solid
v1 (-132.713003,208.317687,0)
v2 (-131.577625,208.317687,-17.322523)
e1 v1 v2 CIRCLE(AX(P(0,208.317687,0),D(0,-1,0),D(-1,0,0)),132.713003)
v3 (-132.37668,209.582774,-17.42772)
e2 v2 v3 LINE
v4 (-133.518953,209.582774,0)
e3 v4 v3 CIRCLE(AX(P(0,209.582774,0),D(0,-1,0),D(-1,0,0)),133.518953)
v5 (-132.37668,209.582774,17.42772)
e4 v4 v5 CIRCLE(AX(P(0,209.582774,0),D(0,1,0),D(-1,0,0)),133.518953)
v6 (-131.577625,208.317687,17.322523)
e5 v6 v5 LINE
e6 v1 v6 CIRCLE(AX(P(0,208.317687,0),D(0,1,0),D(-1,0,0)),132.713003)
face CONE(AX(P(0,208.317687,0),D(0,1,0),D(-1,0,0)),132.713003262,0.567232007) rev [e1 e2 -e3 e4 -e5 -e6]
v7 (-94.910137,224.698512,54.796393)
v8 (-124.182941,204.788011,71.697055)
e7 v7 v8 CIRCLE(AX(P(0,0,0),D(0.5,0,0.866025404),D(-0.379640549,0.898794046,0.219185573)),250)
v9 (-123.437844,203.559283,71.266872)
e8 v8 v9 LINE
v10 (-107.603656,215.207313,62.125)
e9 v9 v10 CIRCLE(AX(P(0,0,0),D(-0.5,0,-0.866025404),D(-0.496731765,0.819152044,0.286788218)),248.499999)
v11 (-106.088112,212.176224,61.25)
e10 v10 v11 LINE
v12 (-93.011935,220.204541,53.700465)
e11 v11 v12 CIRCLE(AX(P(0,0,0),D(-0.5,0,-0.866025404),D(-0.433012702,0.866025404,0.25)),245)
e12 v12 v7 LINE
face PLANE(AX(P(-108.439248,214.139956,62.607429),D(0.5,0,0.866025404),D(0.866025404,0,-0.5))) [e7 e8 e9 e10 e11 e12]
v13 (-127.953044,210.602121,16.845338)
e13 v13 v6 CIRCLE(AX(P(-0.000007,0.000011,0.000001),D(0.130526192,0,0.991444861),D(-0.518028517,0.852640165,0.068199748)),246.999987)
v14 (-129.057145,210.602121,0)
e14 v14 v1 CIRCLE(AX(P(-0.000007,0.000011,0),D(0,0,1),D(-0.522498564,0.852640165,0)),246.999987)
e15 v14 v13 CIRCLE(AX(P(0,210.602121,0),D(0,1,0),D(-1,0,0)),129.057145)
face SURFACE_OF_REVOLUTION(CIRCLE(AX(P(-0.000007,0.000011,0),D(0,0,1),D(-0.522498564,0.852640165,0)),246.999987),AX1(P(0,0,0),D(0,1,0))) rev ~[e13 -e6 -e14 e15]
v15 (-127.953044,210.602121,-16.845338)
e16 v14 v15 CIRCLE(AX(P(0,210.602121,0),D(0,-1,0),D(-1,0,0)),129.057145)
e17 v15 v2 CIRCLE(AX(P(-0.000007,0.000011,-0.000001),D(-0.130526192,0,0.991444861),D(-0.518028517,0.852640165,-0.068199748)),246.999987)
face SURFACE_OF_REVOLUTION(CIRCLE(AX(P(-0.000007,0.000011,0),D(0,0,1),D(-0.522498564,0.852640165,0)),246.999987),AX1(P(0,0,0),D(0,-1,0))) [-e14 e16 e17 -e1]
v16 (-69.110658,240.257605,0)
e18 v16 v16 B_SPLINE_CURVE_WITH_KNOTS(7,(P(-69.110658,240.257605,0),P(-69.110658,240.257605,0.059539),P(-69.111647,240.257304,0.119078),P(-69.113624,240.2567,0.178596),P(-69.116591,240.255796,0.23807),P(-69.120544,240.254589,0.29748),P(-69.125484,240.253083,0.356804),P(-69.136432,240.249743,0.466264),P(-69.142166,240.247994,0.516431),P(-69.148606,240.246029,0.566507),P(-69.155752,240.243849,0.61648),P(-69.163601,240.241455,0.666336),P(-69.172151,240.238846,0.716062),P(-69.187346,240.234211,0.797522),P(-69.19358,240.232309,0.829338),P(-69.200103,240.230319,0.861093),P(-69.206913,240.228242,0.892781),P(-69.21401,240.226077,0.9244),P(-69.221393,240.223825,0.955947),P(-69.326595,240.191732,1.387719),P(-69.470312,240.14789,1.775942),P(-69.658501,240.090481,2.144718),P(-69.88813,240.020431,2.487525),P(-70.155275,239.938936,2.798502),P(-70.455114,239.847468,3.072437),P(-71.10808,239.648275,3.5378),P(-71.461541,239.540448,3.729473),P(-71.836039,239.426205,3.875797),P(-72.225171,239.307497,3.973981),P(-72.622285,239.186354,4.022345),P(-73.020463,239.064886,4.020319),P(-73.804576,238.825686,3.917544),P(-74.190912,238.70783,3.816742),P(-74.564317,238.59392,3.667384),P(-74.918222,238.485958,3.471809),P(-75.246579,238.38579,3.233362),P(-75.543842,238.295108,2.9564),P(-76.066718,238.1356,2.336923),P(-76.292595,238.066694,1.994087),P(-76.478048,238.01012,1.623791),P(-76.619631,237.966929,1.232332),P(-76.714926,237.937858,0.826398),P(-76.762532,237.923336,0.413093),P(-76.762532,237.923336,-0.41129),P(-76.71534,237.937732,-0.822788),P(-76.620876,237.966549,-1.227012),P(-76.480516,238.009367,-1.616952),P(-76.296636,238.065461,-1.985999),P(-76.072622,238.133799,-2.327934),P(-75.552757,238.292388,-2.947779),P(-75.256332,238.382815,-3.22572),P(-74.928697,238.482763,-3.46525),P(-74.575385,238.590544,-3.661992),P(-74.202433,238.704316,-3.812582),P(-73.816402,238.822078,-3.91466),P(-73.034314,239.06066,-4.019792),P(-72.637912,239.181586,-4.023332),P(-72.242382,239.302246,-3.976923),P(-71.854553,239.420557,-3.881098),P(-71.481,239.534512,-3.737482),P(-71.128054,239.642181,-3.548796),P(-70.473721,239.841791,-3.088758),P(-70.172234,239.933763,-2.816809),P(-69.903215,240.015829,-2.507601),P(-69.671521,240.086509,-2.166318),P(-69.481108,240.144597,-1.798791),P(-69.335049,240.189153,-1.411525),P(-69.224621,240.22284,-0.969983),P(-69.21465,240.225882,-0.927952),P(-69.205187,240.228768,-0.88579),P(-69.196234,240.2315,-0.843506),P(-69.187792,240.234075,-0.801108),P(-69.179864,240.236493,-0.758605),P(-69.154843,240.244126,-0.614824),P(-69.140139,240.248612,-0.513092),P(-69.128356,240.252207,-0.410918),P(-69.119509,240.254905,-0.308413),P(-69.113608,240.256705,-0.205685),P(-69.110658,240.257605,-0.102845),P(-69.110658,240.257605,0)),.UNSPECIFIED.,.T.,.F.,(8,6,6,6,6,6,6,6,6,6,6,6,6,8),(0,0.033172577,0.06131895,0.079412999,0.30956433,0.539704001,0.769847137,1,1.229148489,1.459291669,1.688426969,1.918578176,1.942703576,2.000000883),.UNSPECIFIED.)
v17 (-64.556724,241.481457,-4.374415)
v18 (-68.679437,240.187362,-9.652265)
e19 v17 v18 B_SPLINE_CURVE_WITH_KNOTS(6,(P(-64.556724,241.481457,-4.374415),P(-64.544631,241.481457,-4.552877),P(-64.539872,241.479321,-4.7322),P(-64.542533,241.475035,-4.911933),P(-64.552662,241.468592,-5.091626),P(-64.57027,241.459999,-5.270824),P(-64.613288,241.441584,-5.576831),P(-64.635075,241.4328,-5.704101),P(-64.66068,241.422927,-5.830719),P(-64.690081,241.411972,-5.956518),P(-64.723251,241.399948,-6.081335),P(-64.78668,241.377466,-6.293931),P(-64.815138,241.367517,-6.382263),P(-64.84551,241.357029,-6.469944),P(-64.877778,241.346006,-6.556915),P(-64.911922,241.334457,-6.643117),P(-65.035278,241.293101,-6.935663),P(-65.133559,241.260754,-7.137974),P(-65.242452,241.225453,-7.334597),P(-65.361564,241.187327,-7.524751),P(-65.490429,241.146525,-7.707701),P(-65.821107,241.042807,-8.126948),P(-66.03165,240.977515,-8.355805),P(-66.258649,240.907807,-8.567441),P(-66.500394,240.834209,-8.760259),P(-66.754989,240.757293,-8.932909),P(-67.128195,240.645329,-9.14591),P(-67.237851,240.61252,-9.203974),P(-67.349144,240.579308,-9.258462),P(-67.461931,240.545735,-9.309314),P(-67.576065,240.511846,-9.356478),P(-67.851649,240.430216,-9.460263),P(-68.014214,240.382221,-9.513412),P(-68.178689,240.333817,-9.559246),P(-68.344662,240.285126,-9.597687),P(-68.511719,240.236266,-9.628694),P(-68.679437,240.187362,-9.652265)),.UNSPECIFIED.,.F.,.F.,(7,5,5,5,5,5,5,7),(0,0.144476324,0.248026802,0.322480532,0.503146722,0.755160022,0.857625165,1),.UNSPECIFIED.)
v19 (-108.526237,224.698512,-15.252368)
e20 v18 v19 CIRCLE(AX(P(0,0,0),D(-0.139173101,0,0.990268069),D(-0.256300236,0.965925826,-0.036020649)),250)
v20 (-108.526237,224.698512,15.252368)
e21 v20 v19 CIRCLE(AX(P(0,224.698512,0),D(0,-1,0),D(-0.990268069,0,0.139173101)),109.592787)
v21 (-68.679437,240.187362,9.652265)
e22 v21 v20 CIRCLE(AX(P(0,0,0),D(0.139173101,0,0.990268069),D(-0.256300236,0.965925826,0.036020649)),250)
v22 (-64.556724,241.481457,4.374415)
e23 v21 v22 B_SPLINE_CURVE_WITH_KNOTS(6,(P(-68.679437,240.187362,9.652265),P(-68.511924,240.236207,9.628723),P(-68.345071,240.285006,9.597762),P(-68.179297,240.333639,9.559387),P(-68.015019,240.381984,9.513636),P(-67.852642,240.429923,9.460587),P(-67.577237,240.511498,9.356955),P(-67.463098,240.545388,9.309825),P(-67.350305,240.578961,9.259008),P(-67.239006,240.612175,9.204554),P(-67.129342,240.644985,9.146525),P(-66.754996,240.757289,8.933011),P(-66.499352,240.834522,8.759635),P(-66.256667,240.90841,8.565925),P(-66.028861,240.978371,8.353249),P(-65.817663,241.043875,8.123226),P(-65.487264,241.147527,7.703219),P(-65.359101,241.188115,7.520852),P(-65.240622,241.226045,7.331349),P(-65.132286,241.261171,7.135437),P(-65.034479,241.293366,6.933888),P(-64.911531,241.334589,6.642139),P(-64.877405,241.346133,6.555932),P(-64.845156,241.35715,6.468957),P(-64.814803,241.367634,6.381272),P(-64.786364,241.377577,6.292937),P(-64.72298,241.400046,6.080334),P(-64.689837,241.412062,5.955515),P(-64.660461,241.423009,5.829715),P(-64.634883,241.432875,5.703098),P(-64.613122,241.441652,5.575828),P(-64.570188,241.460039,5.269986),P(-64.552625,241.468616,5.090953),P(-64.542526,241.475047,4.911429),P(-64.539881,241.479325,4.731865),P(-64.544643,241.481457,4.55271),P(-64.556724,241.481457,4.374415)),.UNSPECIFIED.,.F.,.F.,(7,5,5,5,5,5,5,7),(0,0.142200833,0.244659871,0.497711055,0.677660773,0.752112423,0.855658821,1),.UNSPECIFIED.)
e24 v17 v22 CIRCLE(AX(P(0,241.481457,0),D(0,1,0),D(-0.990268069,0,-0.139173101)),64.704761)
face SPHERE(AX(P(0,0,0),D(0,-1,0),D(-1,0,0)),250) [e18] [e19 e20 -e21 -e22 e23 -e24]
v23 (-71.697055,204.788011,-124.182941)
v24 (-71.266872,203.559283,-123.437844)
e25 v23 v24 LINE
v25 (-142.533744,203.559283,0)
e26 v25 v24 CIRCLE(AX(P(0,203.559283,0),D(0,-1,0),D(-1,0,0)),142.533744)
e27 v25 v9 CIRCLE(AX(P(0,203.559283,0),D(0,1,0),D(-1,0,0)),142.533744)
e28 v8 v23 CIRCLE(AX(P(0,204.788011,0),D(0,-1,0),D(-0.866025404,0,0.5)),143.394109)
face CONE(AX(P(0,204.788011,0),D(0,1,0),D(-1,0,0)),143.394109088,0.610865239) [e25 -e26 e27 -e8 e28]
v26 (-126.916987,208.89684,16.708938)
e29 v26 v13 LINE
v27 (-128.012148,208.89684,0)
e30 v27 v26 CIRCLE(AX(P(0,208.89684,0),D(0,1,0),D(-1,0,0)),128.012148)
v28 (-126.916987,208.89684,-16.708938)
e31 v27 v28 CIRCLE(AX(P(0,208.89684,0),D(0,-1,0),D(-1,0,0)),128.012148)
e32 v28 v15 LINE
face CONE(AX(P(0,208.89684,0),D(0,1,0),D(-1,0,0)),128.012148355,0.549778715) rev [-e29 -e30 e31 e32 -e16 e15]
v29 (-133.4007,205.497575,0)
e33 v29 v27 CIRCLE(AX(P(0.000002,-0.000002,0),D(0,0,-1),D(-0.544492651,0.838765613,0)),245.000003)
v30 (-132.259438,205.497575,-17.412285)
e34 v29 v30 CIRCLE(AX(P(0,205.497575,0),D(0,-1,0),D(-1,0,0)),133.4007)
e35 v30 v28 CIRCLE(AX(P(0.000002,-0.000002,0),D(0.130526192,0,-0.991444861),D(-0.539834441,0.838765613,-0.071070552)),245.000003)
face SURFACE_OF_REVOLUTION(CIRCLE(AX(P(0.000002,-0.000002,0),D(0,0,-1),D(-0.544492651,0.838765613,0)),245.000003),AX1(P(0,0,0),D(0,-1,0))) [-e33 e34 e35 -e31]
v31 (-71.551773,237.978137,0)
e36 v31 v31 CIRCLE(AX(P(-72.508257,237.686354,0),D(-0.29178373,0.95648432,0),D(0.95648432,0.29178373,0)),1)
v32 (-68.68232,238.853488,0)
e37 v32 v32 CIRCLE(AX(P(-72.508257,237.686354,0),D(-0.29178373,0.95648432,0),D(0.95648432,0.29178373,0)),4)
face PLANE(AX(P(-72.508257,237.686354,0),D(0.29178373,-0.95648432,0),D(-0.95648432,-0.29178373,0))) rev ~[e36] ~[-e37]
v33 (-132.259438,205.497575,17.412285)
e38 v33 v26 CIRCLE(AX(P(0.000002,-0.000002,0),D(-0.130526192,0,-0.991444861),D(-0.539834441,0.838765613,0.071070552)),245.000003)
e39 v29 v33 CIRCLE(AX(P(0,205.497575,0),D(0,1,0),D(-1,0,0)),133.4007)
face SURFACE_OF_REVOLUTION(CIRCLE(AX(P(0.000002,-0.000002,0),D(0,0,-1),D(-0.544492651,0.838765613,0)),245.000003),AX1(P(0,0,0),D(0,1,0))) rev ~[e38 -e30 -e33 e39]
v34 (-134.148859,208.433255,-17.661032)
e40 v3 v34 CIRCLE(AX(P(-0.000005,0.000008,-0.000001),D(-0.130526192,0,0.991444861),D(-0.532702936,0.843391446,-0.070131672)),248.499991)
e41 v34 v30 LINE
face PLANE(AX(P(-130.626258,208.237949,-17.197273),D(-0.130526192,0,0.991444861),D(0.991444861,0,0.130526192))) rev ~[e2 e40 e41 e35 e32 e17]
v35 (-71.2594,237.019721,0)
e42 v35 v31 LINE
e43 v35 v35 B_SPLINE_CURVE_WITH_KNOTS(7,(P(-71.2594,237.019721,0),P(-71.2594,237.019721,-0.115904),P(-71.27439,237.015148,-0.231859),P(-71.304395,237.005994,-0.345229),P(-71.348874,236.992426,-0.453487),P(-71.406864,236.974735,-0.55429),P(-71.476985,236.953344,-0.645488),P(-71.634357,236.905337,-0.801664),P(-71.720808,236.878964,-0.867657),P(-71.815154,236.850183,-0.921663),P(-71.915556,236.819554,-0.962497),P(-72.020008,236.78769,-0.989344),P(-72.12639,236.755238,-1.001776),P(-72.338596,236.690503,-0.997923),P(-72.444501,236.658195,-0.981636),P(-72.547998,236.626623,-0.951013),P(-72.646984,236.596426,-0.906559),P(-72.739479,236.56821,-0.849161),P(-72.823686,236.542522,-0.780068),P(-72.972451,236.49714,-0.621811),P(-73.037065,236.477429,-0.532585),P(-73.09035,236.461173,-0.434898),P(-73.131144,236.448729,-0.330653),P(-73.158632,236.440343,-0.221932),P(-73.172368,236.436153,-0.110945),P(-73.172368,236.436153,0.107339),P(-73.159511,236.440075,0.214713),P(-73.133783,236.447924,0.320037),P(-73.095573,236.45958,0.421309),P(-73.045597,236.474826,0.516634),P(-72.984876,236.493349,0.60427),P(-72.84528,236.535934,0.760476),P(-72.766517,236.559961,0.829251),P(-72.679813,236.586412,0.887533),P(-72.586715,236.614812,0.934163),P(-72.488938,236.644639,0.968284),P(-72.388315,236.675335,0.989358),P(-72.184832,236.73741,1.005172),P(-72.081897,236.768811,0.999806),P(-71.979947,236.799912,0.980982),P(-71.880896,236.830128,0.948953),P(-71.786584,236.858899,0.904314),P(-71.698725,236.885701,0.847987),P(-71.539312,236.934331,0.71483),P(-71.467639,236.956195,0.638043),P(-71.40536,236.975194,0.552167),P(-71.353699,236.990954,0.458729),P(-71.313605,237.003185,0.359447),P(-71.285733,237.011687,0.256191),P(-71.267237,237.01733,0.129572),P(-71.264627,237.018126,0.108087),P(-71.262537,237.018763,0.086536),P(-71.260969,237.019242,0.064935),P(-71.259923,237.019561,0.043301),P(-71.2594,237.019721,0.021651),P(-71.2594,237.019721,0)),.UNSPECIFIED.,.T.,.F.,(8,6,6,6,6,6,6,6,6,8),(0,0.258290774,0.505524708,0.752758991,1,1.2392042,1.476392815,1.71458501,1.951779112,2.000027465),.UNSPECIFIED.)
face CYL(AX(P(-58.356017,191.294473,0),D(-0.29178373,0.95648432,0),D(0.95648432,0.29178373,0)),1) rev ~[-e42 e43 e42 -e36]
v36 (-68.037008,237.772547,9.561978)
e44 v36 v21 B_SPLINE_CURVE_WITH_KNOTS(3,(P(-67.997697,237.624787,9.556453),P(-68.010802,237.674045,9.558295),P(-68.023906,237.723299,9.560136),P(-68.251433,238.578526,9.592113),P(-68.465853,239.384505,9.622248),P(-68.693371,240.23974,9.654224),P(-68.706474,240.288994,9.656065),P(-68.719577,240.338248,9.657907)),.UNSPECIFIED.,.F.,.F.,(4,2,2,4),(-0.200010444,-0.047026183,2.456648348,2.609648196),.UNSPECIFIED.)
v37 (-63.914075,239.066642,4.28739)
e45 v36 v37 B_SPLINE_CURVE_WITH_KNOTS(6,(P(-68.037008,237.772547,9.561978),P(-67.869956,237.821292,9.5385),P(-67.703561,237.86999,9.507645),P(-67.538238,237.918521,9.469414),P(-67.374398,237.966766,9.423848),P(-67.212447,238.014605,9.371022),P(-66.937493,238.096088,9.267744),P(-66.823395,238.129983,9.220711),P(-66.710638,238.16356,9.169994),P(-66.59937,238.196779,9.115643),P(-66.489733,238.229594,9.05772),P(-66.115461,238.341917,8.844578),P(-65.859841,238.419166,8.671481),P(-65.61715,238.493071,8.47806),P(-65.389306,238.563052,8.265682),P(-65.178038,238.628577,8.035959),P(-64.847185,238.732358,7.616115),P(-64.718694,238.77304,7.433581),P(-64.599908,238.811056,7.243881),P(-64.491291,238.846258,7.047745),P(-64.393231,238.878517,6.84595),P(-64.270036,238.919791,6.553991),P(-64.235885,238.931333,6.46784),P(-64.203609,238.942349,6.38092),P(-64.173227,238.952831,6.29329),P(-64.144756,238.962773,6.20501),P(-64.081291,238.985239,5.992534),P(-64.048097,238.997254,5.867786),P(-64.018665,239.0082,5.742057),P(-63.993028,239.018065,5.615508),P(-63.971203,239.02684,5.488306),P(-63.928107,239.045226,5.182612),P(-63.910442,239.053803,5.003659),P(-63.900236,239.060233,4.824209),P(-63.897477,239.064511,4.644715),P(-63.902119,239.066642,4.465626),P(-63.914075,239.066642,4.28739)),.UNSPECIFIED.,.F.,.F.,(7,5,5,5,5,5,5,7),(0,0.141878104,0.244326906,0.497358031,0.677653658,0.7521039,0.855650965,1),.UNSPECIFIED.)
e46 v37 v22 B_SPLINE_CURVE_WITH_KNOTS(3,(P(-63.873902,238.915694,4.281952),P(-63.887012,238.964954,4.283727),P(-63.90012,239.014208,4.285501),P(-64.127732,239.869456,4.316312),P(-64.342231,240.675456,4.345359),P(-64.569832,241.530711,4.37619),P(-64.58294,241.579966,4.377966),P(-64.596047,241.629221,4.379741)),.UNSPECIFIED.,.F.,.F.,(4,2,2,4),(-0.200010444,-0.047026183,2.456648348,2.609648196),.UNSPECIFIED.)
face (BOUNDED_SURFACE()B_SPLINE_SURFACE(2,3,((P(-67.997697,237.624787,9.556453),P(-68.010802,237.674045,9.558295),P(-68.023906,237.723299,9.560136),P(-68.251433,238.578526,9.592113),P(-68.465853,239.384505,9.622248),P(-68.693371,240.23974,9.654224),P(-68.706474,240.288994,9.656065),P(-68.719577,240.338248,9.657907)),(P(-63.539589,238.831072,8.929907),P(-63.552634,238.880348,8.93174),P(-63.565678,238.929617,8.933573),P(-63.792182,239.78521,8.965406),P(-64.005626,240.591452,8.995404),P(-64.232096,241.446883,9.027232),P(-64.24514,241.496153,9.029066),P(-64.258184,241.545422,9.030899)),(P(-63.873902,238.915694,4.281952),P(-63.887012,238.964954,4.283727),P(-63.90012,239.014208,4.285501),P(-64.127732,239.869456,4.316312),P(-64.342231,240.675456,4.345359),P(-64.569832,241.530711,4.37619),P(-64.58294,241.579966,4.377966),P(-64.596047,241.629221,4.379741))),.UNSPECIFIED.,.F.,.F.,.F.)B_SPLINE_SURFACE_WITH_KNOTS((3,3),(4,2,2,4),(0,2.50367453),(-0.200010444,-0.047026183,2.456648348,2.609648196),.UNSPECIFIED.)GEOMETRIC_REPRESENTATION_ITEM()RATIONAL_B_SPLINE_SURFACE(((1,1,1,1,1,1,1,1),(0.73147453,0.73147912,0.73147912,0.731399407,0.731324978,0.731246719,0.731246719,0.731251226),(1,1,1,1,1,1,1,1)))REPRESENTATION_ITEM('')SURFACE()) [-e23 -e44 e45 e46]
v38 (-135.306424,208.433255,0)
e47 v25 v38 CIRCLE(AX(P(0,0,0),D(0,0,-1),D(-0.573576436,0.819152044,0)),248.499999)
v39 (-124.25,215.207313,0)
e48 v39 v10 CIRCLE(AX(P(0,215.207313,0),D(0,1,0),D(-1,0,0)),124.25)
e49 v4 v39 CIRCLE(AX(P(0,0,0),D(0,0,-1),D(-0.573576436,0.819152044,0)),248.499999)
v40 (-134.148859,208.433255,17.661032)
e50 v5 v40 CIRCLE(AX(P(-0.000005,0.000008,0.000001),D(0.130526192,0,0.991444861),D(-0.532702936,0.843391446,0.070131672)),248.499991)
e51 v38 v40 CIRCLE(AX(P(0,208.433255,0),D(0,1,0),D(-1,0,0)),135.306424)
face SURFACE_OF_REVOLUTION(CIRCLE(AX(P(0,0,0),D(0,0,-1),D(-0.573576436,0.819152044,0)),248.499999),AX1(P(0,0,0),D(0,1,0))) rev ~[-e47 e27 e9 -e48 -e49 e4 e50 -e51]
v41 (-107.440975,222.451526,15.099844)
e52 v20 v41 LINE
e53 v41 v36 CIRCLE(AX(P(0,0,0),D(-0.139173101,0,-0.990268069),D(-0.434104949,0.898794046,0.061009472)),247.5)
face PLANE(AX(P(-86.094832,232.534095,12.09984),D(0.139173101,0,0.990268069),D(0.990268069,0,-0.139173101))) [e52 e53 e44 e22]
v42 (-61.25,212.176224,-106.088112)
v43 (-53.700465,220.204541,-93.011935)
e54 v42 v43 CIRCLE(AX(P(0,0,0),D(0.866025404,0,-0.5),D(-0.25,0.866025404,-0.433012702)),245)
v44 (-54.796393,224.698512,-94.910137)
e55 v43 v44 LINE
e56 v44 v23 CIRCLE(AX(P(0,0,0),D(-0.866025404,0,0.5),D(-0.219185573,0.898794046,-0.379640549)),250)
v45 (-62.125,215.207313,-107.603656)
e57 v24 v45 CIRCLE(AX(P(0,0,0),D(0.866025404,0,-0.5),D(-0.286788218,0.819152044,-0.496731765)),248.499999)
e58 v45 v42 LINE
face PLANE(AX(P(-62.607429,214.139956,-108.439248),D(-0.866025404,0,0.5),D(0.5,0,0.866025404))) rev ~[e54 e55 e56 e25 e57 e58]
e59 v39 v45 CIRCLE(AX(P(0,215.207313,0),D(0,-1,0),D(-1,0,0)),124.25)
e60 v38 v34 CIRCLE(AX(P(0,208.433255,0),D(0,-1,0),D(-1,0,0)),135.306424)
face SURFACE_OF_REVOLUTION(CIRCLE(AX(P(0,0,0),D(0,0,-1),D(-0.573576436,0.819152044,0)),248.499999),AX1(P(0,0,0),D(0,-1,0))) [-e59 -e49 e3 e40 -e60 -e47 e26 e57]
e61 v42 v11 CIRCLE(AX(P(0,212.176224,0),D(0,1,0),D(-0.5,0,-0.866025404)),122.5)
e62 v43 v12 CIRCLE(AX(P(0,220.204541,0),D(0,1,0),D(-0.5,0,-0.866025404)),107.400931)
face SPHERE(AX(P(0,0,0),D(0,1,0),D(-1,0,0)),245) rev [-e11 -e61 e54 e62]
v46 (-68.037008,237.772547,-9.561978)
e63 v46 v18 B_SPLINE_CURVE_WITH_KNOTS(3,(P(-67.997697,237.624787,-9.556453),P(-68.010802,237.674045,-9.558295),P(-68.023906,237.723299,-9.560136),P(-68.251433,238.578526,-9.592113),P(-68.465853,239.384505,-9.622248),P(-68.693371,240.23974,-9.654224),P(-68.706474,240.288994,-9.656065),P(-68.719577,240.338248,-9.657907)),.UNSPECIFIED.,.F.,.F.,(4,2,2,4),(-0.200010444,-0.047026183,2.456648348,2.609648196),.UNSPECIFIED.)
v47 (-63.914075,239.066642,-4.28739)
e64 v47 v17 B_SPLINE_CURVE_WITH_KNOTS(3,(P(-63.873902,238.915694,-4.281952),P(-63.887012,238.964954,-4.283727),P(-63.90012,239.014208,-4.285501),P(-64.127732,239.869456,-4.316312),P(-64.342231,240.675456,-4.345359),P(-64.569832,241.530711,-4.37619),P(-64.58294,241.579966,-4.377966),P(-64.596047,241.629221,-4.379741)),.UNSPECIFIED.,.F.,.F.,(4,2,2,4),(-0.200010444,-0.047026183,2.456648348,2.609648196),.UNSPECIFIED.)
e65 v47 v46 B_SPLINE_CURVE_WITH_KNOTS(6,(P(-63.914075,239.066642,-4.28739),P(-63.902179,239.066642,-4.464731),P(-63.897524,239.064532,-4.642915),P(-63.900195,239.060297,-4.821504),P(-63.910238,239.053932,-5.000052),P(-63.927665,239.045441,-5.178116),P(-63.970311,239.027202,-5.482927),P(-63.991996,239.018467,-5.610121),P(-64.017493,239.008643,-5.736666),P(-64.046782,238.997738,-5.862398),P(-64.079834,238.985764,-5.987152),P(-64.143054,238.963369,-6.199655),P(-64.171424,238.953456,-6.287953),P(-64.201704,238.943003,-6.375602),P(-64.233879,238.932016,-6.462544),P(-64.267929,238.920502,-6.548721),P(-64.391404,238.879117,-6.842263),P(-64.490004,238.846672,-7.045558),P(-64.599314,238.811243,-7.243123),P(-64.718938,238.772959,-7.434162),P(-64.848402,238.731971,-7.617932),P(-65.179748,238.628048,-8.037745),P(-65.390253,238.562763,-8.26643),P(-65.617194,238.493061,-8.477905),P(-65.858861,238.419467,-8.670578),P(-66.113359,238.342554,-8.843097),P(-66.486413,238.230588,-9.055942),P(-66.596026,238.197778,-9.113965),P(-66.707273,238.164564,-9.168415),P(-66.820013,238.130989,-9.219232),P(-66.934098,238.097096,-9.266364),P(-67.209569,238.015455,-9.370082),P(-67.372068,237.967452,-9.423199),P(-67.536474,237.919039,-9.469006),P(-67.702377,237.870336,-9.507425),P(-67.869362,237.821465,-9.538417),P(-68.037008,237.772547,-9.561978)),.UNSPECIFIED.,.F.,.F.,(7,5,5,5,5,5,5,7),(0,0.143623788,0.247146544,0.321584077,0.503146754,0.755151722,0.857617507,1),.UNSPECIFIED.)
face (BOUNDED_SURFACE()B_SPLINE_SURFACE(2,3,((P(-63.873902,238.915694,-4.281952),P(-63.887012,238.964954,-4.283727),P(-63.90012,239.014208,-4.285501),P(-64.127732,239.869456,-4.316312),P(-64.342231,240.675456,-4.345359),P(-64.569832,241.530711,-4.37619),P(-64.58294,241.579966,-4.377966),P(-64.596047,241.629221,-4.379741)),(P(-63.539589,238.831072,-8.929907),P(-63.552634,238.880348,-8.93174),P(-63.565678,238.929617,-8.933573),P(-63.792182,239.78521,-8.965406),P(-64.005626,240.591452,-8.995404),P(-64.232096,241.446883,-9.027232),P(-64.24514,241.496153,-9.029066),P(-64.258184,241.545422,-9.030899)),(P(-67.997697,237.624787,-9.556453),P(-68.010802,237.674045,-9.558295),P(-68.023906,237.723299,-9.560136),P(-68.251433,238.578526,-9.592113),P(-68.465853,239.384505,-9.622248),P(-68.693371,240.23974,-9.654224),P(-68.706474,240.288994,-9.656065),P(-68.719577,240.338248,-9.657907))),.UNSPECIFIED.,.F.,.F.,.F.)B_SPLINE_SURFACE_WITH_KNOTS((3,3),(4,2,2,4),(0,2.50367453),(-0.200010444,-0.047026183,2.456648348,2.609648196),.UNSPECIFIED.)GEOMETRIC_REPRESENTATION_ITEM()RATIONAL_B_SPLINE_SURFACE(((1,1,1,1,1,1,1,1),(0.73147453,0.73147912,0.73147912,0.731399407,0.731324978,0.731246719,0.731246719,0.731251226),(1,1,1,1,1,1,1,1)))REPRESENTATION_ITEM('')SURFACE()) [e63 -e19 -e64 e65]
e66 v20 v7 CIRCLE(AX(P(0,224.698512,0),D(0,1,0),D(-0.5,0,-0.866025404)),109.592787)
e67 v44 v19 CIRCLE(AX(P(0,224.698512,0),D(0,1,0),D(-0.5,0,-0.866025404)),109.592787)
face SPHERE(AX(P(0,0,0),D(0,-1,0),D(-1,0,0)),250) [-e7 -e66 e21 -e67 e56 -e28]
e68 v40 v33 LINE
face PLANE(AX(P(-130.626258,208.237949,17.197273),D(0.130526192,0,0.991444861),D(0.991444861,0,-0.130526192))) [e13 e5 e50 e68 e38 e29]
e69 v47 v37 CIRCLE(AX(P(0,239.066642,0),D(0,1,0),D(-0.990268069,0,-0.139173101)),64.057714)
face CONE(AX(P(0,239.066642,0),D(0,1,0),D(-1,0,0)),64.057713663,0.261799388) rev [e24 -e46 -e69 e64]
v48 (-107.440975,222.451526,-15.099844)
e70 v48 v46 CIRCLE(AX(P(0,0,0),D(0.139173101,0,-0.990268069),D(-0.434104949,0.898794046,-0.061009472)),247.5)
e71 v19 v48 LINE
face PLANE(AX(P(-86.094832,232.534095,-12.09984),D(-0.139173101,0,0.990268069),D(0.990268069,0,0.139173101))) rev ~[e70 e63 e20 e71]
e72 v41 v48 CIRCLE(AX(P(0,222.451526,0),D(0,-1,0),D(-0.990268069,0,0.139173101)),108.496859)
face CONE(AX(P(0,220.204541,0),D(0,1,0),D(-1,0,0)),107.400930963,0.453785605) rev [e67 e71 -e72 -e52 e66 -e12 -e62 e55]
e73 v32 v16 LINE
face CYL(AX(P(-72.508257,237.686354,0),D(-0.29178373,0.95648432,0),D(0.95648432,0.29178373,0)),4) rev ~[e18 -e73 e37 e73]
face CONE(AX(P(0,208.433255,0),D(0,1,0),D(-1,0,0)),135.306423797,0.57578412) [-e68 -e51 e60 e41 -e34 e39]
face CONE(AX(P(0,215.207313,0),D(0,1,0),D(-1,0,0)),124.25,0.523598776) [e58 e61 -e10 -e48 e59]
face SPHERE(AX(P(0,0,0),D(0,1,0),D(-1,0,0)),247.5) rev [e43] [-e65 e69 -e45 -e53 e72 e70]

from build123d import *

# Parameters (mm, degrees)
REVOLVE1_ANGLE           = 30
REVOLVE1_OTHER_WAY_ANGLE = 60
REVOLVE2_ANGLE           = 8
REVOLVE2_OTHER_WAY_ANGLE = 8
FILLET1_R                = 5
REVOLVE3_ANGLE           = 7.5
REVOLVE3_OTHER_WAY_ANGLE = 7.5


with BuildPart() as part:
    # Sketch2 → Revolve1 (revolve)
    with BuildSketch(Plane.XY):
        with BuildLine():
            Line((-124.25, 215.20731284), (-122.5, 212.176223927))
            ThreePointArc((-122.5, 212.176223927), (-115.020532883, 216.32216025), (-107.400930963, 220.204541343))
            Line((-107.400930963, 220.204541343), (-109.592786697, 224.698511575))
            ThreePointArc((-109.592786697, 224.698511575), (-126.88459074, 215.40729011), (-143.394109088, 204.788011072))
            Line((-143.394109088, 204.788011072), (-142.533744433, 203.559283006))
            ThreePointArc((-142.533744433, 203.559283006), (-133.518952674, 209.582774285), (-124.25, 215.20731284))
        make_face()
    revolve(axis=Axis((0, 0, 0), (0, 1, 0)), revolution_arc=REVOLVE1_ANGLE)

    # Sketch2 → Revolve1 other way (revolve)
    with BuildSketch(Plane.XY):
        with BuildLine():
            Line((-124.25, 215.20731284), (-122.5, 212.176223927))
            ThreePointArc((-122.5, 212.176223927), (-115.020532883, 216.32216025), (-107.400930963, 220.204541343))
            Line((-107.400930963, 220.204541343), (-109.592786697, 224.698511575))
            ThreePointArc((-109.592786697, 224.698511575), (-126.88459074, 215.40729011), (-143.394109088, 204.788011072))
            Line((-143.394109088, 204.788011072), (-142.533744433, 203.559283006))
            ThreePointArc((-142.533744433, 203.559283006), (-133.518952674, 209.582774285), (-124.25, 215.20731284))
        make_face()
    revolve(axis=Axis((0, 0, 0), (0, -1, 0)), revolution_arc=REVOLVE1_OTHER_WAY_ANGLE)

    # Sketch3 → Revolve2 (revolve)
    with BuildSketch(Plane.XY):
        with BuildLine():
            ThreePointArc((-108.49685883, 222.451526459), (-86.676326862, 231.826366839), (-64.057713663, 239.066642007))
            Line((-64.057713663, 239.066642007), (-64.704761276, 241.481456572))
            ThreePointArc((-64.704761276, 241.481456572), (-87.551845315, 234.168047312), (-109.592786697, 224.698511575))
            Line((-109.592786697, 224.698511575), (-108.49685883, 222.451526459))
        make_face()
    revolve(axis=Axis((0, 0, 0), (0, 1, 0)), revolution_arc=REVOLVE2_ANGLE)

    # Sketch3 → Revolve2 other way (revolve)
    with BuildSketch(Plane.XY):
        with BuildLine():
            ThreePointArc((-108.49685883, 222.451526459), (-86.676326862, 231.826366839), (-64.057713663, 239.066642007))
            Line((-64.057713663, 239.066642007), (-64.704761276, 241.481456572))
            ThreePointArc((-64.704761276, 241.481456572), (-87.551845315, 234.168047312), (-109.592786697, 224.698511575))
            Line((-109.592786697, 224.698511575), (-108.49685883, 222.451526459))
        make_face()
    revolve(axis=Axis((0, 0, 0), (0, -1, 0)), revolution_arc=REVOLVE2_OTHER_WAY_ANGLE)

    # Fillet1
    fillet1_edges = [part.edges().sort_by_distance(p)[0] for p in [
        (-63.754683692, 240.274049289, -8.960136462),
        (-63.754683692, 240.274049289, 8.960136462),
    ]]
    fillet(fillet1_edges, radius=FILLET1_R)

    # Sketch4 → Cut-Revolve1 (revolve, cut)
    with BuildSketch(Plane.XY):
        Polygon((-75.028736809, 245.948635315), (-72.508257021, 237.68635355), (-71.551772701, 237.97813728), (-74.110273038, 246.365052654), align=None)
        Polygon((-74.110273038, 246.365052654), (-71.551772701, 237.97813728), (-68.682319741, 238.853488471), (-71.354881726, 247.614304673), align=None)
        with BuildLine():
            Line((-72.508257021, 237.68635355), (-58.356746094, 191.296864024))
            ThreePointArc((-58.356746094, 191.296864024), (-57.878320073, 191.442158538), (-57.39953231, 191.586256529))
            Line((-57.39953231, 191.586256529), (-71.551772701, 237.97813728))
            Line((-71.551772701, 237.97813728), (-72.508257021, 237.68635355))
        make_face()
    revolve(axis=Axis((0, 0, 0), (-0.2917837304684816, 0.9564843201192044, 0)), mode=Mode.SUBTRACT)

    # Sketch7 → Revolve3 (revolve)
    with BuildSketch(Plane.XY):
        with BuildLine():
            ThreePointArc((-133.400699518, 205.497575091), (-130.717474001, 207.214724358), (-128.012148355, 208.896840267))
            Line((-128.012148355, 208.896840267), (-129.057145485, 210.602120595))
            ThreePointArc((-129.057145485, 210.602120595), (-130.890058266, 209.467879751), (-132.713003262, 208.317687116))
            Line((-132.713003262, 208.317687116), (-133.518952674, 209.582774285))
            ThreePointArc((-133.518952674, 209.582774285), (-134.41391709, 209.009925345), (-135.306423797, 208.433254735))
            Line((-135.306423797, 208.433254735), (-133.400699518, 205.497575091))
        make_face()
    revolve(axis=Axis((0, 0, 0), (0, 1, 0)), revolution_arc=REVOLVE3_ANGLE)

    # Sketch7 → Revolve3 other way (revolve)
    with BuildSketch(Plane.XY):
        with BuildLine():
            ThreePointArc((-133.400699518, 205.497575091), (-130.717474001, 207.214724358), (-128.012148355, 208.896840267))
            Line((-128.012148355, 208.896840267), (-129.057145485, 210.602120595))
            ThreePointArc((-129.057145485, 210.602120595), (-130.890058266, 209.467879751), (-132.713003262, 208.317687116))
            Line((-132.713003262, 208.317687116), (-133.518952674, 209.582774285))
            ThreePointArc((-133.518952674, 209.582774285), (-134.41391709, 209.009925345), (-135.306423797, 208.433254735))
            Line((-135.306423797, 208.433254735), (-133.400699518, 205.497575091))
        make_face()
    revolve(axis=Axis((0, 0, 0), (0, -1, 0)), revolution_arc=REVOLVE3_OTHER_WAY_ANGLE)


solid = part.part
